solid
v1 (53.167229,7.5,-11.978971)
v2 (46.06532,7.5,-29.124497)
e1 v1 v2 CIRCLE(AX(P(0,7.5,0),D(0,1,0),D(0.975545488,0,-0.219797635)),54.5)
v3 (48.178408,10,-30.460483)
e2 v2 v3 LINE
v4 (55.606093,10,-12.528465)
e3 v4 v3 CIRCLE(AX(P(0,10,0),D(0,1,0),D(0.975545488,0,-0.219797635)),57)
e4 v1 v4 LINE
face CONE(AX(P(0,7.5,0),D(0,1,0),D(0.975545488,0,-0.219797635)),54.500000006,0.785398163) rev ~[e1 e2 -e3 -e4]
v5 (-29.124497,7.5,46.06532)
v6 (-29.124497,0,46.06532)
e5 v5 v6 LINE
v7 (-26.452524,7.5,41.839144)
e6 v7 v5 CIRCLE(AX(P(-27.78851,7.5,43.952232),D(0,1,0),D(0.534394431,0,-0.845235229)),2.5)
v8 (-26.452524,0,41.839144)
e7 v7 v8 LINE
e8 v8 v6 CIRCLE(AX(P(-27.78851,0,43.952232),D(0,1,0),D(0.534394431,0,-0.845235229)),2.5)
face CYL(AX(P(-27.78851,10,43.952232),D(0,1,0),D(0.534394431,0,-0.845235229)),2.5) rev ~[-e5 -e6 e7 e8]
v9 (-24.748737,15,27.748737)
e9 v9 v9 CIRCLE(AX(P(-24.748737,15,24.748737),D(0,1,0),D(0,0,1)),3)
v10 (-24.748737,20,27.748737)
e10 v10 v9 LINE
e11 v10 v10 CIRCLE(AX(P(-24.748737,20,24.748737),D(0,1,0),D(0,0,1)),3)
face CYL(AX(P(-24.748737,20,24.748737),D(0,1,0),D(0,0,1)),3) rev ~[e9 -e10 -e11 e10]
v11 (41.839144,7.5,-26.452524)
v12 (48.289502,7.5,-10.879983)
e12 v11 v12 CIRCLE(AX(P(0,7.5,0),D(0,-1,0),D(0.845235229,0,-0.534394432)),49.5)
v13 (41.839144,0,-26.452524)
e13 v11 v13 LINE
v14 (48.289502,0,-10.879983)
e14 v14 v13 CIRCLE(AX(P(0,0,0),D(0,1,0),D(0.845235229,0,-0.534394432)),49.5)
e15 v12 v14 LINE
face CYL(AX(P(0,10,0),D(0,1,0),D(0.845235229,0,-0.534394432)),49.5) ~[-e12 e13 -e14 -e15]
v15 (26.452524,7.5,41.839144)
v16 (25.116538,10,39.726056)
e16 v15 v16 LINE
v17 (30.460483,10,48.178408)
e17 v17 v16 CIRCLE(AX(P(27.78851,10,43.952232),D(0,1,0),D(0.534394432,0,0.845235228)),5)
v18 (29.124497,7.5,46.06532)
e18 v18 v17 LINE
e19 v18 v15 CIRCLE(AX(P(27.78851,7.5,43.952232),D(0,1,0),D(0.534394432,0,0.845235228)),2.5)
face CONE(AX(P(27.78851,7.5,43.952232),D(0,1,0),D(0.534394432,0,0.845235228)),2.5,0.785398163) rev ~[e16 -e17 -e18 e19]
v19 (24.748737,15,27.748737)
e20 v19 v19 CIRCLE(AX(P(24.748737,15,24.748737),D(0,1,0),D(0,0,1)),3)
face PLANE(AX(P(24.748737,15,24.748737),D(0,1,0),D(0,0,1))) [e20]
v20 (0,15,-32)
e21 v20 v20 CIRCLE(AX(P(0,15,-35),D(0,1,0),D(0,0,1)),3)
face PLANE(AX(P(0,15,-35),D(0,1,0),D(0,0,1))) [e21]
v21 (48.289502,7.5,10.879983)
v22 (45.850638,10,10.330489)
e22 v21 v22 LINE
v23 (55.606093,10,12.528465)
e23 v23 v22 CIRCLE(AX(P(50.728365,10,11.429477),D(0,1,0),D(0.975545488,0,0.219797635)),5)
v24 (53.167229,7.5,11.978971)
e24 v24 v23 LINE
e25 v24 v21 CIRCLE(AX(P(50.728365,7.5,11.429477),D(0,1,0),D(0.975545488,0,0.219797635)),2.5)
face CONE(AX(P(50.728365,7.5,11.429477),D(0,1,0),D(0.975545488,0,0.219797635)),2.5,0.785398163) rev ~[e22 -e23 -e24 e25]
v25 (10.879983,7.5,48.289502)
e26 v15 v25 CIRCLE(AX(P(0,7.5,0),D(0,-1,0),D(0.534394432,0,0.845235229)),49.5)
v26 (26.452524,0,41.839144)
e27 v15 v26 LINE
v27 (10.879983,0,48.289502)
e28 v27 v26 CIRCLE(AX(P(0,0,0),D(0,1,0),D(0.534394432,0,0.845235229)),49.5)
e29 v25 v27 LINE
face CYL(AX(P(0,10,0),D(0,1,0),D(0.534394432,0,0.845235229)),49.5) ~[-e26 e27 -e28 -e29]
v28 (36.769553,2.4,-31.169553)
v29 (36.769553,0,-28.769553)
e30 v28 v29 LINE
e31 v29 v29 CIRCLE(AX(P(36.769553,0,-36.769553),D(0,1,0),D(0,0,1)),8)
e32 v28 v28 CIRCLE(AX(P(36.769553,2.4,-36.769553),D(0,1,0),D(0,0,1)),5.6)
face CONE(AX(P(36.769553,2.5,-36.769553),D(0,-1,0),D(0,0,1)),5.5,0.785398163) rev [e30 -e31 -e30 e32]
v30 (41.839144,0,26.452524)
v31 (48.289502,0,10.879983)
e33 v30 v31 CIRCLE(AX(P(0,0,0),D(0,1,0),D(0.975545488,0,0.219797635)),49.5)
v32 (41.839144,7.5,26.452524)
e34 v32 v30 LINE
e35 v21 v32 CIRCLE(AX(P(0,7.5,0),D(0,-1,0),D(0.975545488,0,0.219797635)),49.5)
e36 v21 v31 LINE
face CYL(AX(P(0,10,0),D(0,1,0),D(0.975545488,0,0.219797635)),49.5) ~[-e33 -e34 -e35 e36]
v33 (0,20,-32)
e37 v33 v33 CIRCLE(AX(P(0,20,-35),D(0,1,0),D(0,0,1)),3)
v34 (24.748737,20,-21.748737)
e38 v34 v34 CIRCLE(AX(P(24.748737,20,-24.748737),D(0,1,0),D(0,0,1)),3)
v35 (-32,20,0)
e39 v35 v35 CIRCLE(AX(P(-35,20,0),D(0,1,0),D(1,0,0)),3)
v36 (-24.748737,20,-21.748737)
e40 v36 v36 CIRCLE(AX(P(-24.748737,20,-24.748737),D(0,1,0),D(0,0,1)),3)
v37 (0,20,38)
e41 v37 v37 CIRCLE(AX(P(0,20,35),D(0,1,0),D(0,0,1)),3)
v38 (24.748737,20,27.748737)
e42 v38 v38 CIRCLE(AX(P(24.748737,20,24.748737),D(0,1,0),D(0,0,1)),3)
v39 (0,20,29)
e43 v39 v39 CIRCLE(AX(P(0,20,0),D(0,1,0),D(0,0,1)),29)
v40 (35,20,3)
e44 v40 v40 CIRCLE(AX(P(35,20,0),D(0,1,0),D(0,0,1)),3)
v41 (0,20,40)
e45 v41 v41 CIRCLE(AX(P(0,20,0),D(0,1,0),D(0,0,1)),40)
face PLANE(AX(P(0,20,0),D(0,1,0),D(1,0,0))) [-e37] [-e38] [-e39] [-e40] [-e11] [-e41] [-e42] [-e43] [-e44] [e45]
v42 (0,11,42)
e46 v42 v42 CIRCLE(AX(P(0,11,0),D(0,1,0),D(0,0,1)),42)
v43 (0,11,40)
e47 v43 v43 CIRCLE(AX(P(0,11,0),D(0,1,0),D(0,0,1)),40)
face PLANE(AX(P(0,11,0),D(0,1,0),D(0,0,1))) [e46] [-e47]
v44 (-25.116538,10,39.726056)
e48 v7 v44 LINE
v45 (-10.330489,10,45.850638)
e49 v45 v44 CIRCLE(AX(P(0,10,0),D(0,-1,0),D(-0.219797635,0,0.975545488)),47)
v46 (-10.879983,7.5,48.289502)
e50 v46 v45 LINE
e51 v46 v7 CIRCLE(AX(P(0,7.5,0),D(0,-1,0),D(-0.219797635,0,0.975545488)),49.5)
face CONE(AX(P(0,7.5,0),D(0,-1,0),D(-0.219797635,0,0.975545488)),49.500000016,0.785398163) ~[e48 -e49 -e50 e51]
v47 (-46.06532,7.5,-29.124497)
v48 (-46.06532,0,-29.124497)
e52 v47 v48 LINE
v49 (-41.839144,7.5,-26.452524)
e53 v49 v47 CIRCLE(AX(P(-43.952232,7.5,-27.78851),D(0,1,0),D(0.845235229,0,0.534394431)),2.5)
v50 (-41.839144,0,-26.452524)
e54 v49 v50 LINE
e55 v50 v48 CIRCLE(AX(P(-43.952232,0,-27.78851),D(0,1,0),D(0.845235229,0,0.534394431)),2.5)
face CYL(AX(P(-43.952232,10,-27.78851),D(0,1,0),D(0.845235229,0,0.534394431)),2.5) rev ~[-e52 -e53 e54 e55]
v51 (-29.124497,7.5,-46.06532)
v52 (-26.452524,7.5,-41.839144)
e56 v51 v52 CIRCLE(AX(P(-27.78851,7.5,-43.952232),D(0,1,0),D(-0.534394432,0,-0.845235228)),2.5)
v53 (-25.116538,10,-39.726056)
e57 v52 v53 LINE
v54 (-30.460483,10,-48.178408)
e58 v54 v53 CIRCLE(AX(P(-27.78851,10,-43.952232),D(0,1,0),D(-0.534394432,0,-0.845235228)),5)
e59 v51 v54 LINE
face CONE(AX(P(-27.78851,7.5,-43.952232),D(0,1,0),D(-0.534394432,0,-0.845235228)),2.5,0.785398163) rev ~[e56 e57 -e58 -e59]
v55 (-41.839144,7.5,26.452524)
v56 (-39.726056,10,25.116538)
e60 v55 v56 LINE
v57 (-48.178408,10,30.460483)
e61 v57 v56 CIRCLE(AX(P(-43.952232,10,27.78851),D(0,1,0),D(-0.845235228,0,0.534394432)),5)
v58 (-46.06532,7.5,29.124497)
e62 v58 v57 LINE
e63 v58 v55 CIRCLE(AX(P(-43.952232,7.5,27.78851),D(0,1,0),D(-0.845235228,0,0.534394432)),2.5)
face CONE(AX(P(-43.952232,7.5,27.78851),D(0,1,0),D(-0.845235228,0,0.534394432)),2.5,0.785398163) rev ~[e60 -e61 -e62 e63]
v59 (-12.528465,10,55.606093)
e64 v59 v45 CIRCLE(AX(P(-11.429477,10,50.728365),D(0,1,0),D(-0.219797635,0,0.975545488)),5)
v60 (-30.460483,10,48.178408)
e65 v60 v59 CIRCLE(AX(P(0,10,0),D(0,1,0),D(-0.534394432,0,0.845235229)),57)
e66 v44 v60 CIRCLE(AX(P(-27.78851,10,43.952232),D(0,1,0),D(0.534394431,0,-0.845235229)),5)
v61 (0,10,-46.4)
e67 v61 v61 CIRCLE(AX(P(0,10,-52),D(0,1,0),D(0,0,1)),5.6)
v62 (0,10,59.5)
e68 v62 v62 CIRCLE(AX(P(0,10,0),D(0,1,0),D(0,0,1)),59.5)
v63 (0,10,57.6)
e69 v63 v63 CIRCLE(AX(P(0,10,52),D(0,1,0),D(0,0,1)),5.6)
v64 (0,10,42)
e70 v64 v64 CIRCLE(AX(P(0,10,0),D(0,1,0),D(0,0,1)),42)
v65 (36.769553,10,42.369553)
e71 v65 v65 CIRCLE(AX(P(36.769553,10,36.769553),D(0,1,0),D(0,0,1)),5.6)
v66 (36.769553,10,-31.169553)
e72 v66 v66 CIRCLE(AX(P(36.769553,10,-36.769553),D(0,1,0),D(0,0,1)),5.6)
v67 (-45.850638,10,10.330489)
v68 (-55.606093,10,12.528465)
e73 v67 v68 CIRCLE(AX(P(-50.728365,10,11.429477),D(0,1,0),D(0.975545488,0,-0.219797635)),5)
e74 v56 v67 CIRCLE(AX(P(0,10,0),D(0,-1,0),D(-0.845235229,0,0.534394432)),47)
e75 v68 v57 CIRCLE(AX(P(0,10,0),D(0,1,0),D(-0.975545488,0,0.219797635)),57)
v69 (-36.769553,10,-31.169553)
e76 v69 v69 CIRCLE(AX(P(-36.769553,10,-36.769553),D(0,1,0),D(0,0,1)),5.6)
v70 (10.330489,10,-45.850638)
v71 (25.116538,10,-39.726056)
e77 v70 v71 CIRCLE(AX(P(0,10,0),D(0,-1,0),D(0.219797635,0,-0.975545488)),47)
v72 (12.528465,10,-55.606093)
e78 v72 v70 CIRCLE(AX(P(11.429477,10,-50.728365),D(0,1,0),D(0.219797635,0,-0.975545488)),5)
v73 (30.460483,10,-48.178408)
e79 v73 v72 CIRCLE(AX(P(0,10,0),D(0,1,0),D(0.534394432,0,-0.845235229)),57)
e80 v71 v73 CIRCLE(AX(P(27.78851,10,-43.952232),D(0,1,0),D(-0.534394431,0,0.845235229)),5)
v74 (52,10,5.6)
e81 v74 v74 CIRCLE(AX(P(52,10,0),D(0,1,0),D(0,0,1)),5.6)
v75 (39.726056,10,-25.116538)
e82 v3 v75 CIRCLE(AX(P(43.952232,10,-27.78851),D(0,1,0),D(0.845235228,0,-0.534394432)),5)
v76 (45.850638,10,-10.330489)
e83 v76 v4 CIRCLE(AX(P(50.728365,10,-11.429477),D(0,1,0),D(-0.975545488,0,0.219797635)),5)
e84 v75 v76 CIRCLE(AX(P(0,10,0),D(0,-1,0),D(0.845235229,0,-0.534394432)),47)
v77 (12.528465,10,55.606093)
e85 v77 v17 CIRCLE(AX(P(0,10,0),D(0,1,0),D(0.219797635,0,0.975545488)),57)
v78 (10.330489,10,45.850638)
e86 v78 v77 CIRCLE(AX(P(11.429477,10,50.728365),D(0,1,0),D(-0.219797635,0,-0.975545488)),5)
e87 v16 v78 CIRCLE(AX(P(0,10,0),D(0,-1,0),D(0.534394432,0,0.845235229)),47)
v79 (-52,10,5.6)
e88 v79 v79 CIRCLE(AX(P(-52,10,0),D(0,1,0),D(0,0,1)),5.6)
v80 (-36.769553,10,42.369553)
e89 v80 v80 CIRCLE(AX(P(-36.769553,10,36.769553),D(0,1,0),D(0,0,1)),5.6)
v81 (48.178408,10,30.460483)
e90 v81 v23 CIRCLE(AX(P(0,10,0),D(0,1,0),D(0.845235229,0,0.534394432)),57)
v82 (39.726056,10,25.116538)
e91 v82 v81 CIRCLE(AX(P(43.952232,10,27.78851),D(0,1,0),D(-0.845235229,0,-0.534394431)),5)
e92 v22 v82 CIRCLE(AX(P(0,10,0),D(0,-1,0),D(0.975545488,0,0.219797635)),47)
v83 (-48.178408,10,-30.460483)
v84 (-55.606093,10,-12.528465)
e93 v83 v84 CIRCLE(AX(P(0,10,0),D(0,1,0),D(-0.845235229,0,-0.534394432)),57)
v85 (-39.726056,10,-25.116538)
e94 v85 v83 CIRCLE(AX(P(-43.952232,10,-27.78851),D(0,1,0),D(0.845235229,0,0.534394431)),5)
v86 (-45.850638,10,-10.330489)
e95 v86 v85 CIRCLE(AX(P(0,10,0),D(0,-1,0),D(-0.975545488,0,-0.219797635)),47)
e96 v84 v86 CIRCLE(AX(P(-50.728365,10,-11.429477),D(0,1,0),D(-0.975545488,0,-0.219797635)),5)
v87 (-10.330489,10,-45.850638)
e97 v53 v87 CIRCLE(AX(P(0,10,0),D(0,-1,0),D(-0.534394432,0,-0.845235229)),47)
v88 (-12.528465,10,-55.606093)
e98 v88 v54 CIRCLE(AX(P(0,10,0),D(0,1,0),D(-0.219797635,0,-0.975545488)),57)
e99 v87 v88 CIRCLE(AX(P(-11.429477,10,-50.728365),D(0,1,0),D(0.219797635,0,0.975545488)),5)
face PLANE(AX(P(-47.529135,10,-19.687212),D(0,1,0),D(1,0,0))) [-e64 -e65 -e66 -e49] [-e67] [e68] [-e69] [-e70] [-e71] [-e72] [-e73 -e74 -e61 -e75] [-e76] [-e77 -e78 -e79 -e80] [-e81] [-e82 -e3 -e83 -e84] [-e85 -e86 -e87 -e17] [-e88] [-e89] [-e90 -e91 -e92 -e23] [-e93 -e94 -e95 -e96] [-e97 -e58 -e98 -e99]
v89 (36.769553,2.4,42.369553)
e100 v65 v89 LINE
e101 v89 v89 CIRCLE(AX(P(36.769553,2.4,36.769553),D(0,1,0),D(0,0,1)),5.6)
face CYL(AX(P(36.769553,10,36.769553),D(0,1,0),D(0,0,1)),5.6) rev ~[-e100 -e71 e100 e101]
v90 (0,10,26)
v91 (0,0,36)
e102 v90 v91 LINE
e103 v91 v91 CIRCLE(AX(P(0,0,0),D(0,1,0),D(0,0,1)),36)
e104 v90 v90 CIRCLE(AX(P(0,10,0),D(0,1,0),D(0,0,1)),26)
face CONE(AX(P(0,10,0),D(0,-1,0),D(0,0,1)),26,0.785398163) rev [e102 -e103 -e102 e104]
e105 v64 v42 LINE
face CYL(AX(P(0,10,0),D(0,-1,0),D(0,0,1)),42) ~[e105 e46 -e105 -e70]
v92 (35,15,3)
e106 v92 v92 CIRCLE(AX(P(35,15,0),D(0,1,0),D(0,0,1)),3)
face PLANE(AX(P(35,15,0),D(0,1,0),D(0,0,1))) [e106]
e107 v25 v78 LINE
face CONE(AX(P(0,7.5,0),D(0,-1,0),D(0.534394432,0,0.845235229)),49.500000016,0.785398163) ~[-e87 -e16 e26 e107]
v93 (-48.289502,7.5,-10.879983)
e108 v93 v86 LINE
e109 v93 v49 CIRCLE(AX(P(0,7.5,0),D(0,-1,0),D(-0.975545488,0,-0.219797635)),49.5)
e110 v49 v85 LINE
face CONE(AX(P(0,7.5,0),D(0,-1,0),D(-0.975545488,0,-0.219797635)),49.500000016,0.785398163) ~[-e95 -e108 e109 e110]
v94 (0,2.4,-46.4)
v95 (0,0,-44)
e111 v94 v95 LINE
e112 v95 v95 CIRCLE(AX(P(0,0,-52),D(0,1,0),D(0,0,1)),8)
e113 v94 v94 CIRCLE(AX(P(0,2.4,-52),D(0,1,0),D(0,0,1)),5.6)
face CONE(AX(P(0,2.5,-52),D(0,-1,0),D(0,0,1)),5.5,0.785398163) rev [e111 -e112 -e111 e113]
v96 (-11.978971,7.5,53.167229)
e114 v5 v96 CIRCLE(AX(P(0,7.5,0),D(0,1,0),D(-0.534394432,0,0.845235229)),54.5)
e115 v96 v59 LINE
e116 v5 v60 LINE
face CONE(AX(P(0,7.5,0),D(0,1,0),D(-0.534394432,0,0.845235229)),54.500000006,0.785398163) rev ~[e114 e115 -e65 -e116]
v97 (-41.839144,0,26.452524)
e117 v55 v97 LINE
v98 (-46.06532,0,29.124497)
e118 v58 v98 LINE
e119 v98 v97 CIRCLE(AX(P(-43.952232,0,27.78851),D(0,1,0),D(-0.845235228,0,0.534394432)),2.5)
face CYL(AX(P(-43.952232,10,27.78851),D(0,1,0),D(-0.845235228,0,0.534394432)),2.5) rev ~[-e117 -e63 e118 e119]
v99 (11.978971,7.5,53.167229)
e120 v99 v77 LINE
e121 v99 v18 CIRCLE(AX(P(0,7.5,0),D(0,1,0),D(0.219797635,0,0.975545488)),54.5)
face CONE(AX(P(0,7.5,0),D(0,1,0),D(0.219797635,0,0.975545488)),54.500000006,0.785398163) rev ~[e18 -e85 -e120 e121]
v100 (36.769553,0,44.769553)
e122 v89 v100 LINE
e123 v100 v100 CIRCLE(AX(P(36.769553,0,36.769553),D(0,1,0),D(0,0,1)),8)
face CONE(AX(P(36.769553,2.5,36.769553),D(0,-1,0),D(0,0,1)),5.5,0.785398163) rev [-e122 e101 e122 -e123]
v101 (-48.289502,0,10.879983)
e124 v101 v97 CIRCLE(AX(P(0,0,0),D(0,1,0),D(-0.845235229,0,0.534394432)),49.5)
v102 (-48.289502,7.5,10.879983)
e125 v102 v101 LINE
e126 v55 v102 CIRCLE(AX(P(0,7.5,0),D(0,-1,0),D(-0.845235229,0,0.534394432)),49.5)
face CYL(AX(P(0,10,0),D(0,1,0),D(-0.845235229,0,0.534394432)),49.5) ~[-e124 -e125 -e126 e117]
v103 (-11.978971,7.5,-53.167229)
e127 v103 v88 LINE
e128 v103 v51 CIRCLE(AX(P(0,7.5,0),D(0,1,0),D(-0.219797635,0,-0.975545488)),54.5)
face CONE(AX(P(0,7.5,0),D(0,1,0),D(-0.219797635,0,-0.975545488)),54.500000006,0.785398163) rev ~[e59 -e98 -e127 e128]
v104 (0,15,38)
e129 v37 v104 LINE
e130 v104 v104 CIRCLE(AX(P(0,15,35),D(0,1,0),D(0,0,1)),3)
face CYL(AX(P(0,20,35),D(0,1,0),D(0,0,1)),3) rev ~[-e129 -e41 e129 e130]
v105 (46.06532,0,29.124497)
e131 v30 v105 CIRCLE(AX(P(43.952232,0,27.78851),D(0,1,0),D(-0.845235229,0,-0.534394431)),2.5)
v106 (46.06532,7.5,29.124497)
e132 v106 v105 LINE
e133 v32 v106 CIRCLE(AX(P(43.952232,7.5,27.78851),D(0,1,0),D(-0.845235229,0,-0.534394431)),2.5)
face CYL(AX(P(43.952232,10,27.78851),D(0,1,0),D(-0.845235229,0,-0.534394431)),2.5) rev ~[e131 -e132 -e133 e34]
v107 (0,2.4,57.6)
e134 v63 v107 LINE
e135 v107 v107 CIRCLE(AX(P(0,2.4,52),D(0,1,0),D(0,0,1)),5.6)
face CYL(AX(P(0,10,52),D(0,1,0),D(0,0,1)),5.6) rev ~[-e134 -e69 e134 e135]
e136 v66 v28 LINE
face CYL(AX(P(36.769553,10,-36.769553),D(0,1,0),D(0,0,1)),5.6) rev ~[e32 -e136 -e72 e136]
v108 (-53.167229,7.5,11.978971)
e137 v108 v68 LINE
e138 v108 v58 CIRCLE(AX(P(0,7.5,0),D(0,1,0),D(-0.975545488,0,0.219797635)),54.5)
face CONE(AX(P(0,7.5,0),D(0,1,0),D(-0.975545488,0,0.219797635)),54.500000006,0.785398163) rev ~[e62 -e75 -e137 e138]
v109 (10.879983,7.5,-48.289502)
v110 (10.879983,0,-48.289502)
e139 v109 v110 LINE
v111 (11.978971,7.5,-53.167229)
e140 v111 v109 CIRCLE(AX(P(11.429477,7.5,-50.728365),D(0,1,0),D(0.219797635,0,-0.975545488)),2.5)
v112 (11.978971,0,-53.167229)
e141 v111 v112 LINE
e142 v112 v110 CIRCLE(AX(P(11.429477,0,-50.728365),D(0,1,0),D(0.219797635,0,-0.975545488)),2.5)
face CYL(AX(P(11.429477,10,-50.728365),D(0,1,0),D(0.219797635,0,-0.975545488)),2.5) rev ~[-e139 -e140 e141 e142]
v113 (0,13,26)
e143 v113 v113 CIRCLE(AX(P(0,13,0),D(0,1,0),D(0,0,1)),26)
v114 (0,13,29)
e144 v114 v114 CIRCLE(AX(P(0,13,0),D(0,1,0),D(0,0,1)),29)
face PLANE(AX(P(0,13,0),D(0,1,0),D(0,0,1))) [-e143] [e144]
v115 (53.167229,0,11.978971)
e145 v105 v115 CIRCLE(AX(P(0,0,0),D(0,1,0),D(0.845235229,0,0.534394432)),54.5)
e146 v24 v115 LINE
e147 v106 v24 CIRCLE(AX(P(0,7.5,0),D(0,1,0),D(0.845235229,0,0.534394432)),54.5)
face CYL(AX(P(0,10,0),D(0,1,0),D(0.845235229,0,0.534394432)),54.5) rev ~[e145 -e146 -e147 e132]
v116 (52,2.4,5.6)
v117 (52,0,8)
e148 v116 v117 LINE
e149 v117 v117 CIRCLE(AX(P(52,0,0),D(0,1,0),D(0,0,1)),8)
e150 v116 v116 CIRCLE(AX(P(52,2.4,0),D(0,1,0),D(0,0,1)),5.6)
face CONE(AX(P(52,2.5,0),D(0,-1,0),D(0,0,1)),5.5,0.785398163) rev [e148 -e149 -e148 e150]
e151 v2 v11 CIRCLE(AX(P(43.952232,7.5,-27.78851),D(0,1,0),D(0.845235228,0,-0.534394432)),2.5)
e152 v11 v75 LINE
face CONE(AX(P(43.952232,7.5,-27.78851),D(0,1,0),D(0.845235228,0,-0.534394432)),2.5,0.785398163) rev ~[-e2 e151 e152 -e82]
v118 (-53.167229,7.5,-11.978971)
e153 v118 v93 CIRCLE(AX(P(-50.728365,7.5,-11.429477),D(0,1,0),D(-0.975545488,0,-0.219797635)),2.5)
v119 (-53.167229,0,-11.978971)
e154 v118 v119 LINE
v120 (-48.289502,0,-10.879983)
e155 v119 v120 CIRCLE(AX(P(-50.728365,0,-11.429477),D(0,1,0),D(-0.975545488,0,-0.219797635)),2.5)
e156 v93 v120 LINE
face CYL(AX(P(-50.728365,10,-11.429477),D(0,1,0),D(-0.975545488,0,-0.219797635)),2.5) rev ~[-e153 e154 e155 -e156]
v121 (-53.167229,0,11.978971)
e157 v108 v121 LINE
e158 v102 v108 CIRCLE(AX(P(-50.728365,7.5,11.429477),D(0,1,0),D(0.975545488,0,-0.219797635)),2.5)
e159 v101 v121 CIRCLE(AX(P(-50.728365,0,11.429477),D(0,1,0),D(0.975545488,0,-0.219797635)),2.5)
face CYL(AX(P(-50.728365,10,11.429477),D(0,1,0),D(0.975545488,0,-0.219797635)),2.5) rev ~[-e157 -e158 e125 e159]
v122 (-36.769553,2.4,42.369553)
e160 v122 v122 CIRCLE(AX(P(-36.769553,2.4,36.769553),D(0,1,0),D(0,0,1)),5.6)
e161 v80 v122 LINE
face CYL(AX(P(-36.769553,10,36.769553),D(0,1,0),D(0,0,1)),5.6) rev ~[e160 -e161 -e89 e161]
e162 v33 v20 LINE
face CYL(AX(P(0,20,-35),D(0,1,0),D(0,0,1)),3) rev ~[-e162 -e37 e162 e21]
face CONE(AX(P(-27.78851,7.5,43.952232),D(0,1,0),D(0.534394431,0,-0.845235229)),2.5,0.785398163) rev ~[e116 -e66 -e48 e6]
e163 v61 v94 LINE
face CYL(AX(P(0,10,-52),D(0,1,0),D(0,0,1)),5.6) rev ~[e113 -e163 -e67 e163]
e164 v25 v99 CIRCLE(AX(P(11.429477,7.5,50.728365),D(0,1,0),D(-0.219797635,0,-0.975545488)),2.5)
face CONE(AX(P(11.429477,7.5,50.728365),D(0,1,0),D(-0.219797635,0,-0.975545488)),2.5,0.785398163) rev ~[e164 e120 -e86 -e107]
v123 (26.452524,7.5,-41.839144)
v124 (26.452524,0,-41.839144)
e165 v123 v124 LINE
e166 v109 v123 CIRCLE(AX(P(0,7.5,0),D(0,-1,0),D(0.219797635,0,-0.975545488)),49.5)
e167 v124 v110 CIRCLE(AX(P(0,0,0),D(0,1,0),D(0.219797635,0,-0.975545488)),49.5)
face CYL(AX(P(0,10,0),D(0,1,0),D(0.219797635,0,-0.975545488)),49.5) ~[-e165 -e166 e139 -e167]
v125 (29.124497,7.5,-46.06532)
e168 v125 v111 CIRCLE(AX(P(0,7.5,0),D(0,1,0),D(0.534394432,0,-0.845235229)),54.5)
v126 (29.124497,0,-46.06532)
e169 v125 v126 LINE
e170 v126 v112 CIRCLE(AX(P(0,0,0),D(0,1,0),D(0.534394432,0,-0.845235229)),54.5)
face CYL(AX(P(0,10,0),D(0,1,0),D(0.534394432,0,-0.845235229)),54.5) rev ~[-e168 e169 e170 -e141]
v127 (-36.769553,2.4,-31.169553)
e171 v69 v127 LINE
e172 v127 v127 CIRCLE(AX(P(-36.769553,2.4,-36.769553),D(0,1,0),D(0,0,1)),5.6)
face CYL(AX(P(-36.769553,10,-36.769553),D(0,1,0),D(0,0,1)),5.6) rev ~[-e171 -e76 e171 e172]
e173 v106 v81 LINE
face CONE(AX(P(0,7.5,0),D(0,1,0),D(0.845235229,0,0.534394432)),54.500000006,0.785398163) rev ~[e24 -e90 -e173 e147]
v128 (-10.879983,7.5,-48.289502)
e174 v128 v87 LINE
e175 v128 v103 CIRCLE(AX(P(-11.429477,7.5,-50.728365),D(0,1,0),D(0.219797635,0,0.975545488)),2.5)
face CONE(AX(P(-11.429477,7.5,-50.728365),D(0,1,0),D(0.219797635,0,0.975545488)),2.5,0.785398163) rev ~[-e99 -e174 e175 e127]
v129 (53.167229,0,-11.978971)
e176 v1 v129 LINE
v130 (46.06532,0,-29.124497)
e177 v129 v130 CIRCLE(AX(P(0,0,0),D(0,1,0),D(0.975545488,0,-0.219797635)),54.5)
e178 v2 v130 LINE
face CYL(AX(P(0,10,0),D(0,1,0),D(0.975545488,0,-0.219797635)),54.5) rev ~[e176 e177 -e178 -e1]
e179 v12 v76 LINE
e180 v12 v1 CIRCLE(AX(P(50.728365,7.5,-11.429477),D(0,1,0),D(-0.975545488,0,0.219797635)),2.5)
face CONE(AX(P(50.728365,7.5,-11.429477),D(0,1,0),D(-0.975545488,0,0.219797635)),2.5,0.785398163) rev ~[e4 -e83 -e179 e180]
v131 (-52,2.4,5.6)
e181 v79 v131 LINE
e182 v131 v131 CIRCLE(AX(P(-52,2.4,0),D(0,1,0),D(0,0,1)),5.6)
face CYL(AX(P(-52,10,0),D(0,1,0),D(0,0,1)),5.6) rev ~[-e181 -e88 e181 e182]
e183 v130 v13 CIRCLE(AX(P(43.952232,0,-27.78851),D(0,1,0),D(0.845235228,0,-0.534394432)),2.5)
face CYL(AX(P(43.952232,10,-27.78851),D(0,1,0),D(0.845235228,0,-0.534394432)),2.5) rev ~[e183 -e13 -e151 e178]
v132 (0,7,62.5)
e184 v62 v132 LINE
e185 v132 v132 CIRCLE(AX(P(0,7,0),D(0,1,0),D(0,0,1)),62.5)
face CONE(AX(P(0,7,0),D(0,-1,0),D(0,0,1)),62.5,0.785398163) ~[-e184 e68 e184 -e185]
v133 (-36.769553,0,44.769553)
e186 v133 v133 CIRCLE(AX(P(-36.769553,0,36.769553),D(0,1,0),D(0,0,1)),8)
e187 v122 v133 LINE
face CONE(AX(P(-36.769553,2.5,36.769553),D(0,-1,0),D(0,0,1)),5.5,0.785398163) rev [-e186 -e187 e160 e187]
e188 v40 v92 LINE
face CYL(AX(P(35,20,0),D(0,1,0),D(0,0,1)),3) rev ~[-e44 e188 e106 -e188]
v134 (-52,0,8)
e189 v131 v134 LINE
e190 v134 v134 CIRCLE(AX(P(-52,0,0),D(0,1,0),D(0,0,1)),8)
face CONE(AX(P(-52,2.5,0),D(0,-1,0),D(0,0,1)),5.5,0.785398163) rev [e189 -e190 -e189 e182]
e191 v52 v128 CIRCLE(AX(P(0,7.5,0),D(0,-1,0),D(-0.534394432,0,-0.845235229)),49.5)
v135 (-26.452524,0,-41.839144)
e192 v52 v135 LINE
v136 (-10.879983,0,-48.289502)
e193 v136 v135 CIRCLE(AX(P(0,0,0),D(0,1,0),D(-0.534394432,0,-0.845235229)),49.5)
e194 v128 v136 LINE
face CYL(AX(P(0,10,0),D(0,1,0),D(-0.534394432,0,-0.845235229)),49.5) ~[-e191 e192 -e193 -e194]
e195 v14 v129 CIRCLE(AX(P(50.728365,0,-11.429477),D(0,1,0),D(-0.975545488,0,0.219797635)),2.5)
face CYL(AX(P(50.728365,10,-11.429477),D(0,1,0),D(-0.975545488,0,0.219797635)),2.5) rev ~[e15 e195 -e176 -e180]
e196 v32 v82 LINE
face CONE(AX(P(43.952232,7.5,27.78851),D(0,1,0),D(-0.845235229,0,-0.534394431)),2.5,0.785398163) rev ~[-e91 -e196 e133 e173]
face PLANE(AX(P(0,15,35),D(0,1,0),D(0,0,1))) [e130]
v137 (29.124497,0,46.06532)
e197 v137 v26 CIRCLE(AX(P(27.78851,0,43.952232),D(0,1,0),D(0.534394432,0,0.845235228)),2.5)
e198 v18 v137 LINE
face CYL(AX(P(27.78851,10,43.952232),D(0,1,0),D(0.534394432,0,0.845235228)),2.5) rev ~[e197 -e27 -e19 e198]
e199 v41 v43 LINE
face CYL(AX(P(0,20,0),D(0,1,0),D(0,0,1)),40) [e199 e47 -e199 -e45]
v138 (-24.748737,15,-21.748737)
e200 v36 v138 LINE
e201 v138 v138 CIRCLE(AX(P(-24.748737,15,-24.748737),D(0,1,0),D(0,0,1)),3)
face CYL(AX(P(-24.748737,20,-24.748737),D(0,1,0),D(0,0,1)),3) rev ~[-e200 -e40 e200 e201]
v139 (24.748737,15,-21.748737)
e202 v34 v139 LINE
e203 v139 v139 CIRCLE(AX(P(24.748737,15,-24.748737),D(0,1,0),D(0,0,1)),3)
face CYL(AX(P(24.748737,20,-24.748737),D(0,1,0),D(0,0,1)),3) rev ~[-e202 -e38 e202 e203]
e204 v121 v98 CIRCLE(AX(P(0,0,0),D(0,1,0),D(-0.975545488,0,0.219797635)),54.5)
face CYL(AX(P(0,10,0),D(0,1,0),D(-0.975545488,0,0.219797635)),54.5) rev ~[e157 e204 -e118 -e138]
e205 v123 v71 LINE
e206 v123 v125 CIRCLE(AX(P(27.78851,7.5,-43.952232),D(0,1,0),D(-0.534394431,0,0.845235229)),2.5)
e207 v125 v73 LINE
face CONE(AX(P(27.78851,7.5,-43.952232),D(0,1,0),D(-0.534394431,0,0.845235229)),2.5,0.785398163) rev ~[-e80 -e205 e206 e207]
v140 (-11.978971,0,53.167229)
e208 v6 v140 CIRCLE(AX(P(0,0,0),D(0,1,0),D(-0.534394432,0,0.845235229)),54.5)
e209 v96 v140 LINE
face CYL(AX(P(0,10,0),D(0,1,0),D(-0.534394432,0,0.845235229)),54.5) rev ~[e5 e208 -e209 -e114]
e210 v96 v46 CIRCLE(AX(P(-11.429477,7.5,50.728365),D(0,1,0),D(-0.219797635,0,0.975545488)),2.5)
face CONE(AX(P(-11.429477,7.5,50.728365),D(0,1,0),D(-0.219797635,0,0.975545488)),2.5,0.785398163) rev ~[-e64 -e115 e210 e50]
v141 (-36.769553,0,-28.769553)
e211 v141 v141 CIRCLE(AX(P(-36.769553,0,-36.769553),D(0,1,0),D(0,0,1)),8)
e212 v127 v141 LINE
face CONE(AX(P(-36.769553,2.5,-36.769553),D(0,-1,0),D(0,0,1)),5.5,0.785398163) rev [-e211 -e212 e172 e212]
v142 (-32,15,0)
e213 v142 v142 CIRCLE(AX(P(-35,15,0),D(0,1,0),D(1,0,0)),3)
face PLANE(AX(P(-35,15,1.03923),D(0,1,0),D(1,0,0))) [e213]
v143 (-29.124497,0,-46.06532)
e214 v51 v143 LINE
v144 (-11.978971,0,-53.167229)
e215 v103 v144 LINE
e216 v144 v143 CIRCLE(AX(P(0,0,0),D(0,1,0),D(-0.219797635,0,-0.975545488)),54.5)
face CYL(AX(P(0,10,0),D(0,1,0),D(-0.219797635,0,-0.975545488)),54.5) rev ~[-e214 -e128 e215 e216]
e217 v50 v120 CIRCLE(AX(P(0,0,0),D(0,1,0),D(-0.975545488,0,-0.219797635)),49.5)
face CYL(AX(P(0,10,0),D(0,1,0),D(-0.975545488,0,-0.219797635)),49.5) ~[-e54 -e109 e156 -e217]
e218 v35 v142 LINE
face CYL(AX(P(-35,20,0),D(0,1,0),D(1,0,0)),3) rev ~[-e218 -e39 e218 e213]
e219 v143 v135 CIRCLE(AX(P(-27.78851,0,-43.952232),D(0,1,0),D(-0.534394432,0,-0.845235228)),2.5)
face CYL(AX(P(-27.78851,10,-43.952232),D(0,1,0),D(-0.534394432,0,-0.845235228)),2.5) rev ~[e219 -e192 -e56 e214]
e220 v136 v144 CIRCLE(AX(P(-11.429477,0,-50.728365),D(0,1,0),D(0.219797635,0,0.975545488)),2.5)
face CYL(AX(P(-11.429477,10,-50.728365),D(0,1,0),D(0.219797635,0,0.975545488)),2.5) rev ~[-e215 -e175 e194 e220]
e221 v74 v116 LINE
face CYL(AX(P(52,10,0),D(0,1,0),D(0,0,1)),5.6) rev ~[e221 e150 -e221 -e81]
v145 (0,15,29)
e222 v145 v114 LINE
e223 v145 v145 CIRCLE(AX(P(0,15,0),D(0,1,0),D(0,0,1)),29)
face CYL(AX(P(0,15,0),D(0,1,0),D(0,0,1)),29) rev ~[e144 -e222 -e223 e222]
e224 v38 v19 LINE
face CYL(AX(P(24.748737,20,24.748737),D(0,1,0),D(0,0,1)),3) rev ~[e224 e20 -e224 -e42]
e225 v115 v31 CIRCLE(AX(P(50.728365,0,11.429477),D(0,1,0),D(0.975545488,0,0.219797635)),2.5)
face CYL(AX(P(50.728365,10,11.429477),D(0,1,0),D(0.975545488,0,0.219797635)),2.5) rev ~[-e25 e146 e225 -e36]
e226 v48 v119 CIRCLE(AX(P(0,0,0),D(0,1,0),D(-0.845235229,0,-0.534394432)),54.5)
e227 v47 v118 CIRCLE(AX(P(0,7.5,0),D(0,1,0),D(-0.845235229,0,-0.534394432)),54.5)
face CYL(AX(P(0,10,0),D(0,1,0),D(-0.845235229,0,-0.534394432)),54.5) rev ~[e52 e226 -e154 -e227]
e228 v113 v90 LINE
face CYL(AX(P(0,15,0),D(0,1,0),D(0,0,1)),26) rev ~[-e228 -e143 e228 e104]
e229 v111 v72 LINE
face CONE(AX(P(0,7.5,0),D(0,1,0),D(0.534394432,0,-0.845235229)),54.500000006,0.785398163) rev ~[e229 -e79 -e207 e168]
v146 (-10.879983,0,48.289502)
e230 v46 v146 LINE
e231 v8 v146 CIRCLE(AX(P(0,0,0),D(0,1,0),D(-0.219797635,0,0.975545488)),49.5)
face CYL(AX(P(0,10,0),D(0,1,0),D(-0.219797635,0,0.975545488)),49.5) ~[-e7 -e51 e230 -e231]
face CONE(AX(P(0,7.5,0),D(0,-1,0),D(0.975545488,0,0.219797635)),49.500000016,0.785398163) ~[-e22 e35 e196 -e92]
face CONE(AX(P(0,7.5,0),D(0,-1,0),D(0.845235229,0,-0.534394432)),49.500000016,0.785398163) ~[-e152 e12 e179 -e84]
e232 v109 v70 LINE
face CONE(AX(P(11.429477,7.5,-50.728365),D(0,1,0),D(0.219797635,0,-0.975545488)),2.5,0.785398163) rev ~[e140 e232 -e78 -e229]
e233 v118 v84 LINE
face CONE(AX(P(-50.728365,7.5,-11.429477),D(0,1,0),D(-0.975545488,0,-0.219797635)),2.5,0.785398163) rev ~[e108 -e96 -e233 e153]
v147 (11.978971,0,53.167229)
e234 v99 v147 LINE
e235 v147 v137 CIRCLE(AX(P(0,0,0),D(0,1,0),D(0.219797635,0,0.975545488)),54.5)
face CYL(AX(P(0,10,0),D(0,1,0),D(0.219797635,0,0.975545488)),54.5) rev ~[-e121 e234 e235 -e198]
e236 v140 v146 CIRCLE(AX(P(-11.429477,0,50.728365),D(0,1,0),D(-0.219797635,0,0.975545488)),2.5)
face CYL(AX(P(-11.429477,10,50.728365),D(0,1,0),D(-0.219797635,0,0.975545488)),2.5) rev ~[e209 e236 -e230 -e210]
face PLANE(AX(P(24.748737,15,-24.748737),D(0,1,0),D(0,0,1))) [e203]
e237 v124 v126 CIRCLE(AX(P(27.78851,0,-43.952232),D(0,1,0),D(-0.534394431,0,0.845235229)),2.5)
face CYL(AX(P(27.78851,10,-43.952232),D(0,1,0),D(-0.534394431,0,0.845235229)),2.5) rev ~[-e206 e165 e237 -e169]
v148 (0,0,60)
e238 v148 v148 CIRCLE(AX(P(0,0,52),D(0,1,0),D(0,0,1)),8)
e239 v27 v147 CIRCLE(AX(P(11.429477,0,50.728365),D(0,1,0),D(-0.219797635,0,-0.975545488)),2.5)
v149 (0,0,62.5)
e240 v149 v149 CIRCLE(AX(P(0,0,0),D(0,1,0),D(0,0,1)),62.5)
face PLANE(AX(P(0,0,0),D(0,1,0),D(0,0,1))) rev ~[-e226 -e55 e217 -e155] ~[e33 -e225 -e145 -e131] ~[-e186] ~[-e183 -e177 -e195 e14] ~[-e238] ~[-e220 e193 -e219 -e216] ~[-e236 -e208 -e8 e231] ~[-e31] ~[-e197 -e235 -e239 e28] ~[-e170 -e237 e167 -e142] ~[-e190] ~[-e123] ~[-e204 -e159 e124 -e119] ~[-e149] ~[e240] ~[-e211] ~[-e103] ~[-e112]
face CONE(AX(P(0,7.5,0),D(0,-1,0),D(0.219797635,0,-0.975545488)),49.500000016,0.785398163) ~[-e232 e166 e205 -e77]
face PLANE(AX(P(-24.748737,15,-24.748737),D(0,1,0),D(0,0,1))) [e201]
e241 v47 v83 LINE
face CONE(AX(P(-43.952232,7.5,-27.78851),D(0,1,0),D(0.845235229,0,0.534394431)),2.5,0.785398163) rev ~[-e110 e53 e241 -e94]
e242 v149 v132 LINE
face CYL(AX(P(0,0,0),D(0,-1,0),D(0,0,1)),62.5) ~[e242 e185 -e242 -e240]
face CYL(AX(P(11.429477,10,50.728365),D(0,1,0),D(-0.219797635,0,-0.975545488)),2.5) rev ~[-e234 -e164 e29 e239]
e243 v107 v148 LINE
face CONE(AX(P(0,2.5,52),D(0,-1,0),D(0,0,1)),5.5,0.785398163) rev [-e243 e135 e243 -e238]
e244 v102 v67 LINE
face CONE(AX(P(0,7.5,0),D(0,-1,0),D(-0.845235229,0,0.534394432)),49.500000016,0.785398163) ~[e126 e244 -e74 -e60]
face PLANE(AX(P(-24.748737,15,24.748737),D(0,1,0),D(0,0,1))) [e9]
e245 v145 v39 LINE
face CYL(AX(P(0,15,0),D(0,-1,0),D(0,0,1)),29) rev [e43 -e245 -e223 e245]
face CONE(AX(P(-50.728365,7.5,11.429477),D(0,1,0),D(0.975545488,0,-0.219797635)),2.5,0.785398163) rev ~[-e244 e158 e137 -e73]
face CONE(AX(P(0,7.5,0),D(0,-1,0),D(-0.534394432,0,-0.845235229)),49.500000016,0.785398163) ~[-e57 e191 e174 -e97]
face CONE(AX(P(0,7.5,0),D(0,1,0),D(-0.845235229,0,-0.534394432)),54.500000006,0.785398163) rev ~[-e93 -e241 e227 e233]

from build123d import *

# Parameters (mm, degrees)
SKETCH1_R            = 62.5
SKETCH1_R_2          = 5.5
SKETCH1_R_3          = 41.5
BOSS_EXTRUDE1_DEPTH  = 10
SKETCH2_R            = 41.5
SKETCH2_R_2          = 3.5
SKETCH2_R_3          = 30
BOSS_EXTRUDE2_DEPTH  = 10
BOSS_EXTRUDE3_START  = -10
SKETCH3_R            = 3.5
BOSS_EXTRUDE3_DEPTH  = 10
SKETCH4_R            = 41.5
SKETCH4_R_2          = 40
CUT_EXTRUDE1_DEPTH   = 10
CHAMFER1_SIZE        = 3
CUT_EXTRUDE4_DEPTH   = 13
SKETCH10_R           = 42
SKETCH10_R_2         = 40
BOSS_EXTRUDE4_DEPTH  = 1
BOSS_EXTRUDE9_DEPTH  = 10
CHAMFER7_SIZE        = 2.5
SKETCH18_R           = 3.5
BOSS_EXTRUDE10_DEPTH = 10
SKETCH19_R           = 3
CUT_EXTRUDE7_DEPTH   = 5
CUT_EXTRUDE8_DEPTH   = 15
CHAMFER9_SIZE        = 2.5
SKETCH21_R           = 5.6
CUT_EXTRUDE9_DEPTH   = 15
BOSS_EXTRUDE11_START = -5
SKETCH22_R           = 30
SKETCH22_R_2         = 26
BOSS_EXTRUDE11_DEPTH = 15
SKETCH23_R           = 30
SKETCH23_R_2         = 29
BOSS_EXTRUDE12_DEPTH = 5
CHAMFER10_SIZE       = 10
SKETCH24_R           = 29
SKETCH24_R_2         = 26
CUT_EXTRUDE10_DEPTH  = 2


with BuildPart() as part:
    # Sketch1 → Boss-Extrude1 (new body)
    with BuildSketch(Plane(origin=(0, 0, 0), x_dir=(1, 0, 0), z_dir=(0, 1, 0))):
        with Locations(Location((0, 0, 0), (0, 0, 270))):
            Circle(SKETCH1_R)
        with Locations(Location((-52, 0, 0), (0, 0, 270))):
            Circle(SKETCH1_R_2, mode=Mode.SUBTRACT)
        with Locations(Location((-36.769552622, 36.769552622, 0), (0, 0, 270))):
            Circle(SKETCH1_R_2, mode=Mode.SUBTRACT)
        with Locations(Location((0, 52, 0), (0, 0, 270))):
            Circle(SKETCH1_R_2, mode=Mode.SUBTRACT)
        with Locations(Location((36.769552622, 36.769552622, 0), (0, 0, 270))):
            Circle(SKETCH1_R_2, mode=Mode.SUBTRACT)
        with Locations(Location((52, 0, 0), (0, 0, 270))):
            Circle(SKETCH1_R_2, mode=Mode.SUBTRACT)
        with Locations(Location((36.769552622, -36.769552622, 0), (0, 0, 270))):
            Circle(SKETCH1_R_2, mode=Mode.SUBTRACT)
        with Locations(Location((0, -52, 0), (0, 0, 270))):
            Circle(SKETCH1_R_2, mode=Mode.SUBTRACT)
        with Locations(Location((-36.769552622, -36.769552622, 0), (0, 0, 270))):
            Circle(SKETCH1_R_2, mode=Mode.SUBTRACT)
        with Locations(Location((0, 0, 0), (0, 0, 270))):
            Circle(SKETCH1_R_3, mode=Mode.SUBTRACT)
    extrude(amount=BOSS_EXTRUDE1_DEPTH)

    # Sketch2 → Boss-Extrude2 (add, symmetric)
    with BuildSketch(Plane(origin=(0, 10, 0), x_dir=(1, 0, 0), z_dir=(0, 1, 0))):
        with Locations(Location((0, 0, 0), (0, 0, 270))):
            Circle(SKETCH2_R)
        with Locations(Location((0, -35, 0), (0, 0, 270))):
            Circle(SKETCH2_R_2, mode=Mode.SUBTRACT)
        with Locations(Location((-24.748737342, -24.748737342, 0), (0, 0, 270))):
            Circle(SKETCH2_R_2, mode=Mode.SUBTRACT)
        with Locations(Location((24.748737342, -24.748737342, 0), (0, 0, 270))):
            Circle(SKETCH2_R_2, mode=Mode.SUBTRACT)
        with Locations(Location((35, 0, 0), (0, 0, 270))):
            Circle(SKETCH2_R_2, mode=Mode.SUBTRACT)
        with BuildLine():
            ThreePointArc((-38.5, 0), (-35, 3.5), (-31.5, 0))
            ThreePointArc((-31.5, 0), (-35, -3.5), (-38.5, 0))
        make_face(mode=Mode.SUBTRACT)
        with Locations(Location((-24.748737342, 24.748737342, 0), (0, 0, 270))):
            Circle(SKETCH2_R_2, mode=Mode.SUBTRACT)
        with Locations(Location((0, 0, 0), (0, 0, 270))):
            Circle(SKETCH2_R_3, mode=Mode.SUBTRACT)
        with Locations(Location((24.748737342, 24.748737342, 0), (0, 0, 270))):
            Circle(SKETCH2_R_2, mode=Mode.SUBTRACT)
        with Locations(Location((0, 35, 0), (0, 0, 270))):
            Circle(SKETCH2_R_2, mode=Mode.SUBTRACT)
    extrude(amount=BOSS_EXTRUDE2_DEPTH, both=True)

    # Sketch3 → Boss-Extrude3 (add)
    with BuildSketch(Plane(origin=(0, 20, 0), x_dir=(1, 0, 0), z_dir=(0, 1, 0)).offset(BOSS_EXTRUDE3_START)):
        with Locations(Location((-35, 0, 0), (0, 0, 270))):
            Circle(SKETCH3_R)
        with Locations(Location((-24.748737342, 24.748737342, 0), (0, 0, 270))):
            Circle(SKETCH3_R)
        with Locations(Location((0, 35, 0), (0, 0, 270))):
            Circle(SKETCH3_R)
        with Locations(Location((24.748737342, 24.748737342, 0), (0, 0, 270))):
            Circle(SKETCH3_R)
        with Locations(Location((35, 0, 0), (0, 0, 270))):
            Circle(SKETCH3_R)
        with Locations(Location((24.748737342, -24.748737342, 0), (0, 0, 270))):
            Circle(SKETCH3_R)
        with Locations(Location((0, -35, 0), (0, 0, 270))):
            Circle(SKETCH3_R)
        with Locations(Location((-24.748737342, -24.748737342, 0), (0, 0, 270))):
            Circle(SKETCH3_R)
    extrude(amount=-BOSS_EXTRUDE3_DEPTH)

    # Sketch4 → Cut-Extrude1 (cut)
    with BuildSketch(Plane(origin=(0, 20, 0), x_dir=(1, 0, 0), z_dir=(0, 1, 0))):
        Circle(SKETCH4_R)
        with Locations(Location((0, 0, 0), (0, 0, 270))):
            Circle(SKETCH4_R_2, mode=Mode.SUBTRACT)
    extrude(amount=-CUT_EXTRUDE1_DEPTH, mode=Mode.SUBTRACT)

    # Chamfer1
    chamfer1_edges = [part.edges().sort_by_distance(p)[0] for p in [
        (0, 10, -62.5),
    ]]
    chamfer(chamfer1_edges, length=CHAMFER1_SIZE)

    # Sketch9 → Cut-Extrude4 (cut)
    with BuildSketch(Plane(origin=(0, 10, 0), x_dir=(1, 0, 0), z_dir=(0, 1, 0))):
        with BuildLine():
            ThreePointArc((-45.31509387, 30.2785777), (-50.351434522, 20.856247064), (-53.452797782, 10.63242255))
            ThreePointArc((-53.452797782, 10.63242255), (-51.488560386, 7.692733544), (-48.54887138, 9.65697094))
            ThreePointArc((-48.54887138, 9.65697094), (-45.732036859, 18.942829902), (-41.157745809, 27.500726534))
            ThreePointArc((-41.157745809, 27.500726534), (-41.847494257, 30.968326148), (-45.31509387, 30.2785777))
        make_face()
        with BuildLine():
            ThreePointArc((-10.63242255, 53.452797782), (-20.856247064, 50.351434522), (-30.2785777, 45.31509387))
            ThreePointArc((-30.2785777, 45.31509387), (-30.968326148, 41.847494257), (-27.500726534, 41.157745809))
            ThreePointArc((-27.500726534, 41.157745809), (-18.942829902, 45.732036859), (-9.65697094, 48.54887138))
            ThreePointArc((-9.65697094, 48.54887138), (-7.692733544, 51.488560386), (-10.63242255, 53.452797782))
        make_face()
        with BuildLine():
            ThreePointArc((30.2785777, 45.31509387), (20.856247064, 50.351434522), (10.63242255, 53.452797782))
            ThreePointArc((10.63242255, 53.452797782), (7.692733544, 51.488560386), (9.65697094, 48.54887138))
            ThreePointArc((9.65697094, 48.54887138), (18.942829902, 45.732036859), (27.500726534, 41.157745809))
            ThreePointArc((27.500726534, 41.157745809), (30.968326148, 41.847494257), (30.2785777, 45.31509387))
        make_face()
        with BuildLine():
            ThreePointArc((53.452797782, 10.63242255), (50.351434522, 20.856247064), (45.31509387, 30.2785777))
            ThreePointArc((45.31509387, 30.2785777), (41.847494257, 30.968326148), (41.157745809, 27.500726534))
            ThreePointArc((41.157745809, 27.500726534), (45.732036859, 18.942829902), (48.54887138, 9.65697094))
            ThreePointArc((48.54887138, 9.65697094), (51.488560386, 7.692733544), (53.452797782, 10.63242255))
        make_face()
        with BuildLine():
            ThreePointArc((45.31509387, -30.2785777), (50.351434522, -20.856247064), (53.452797782, -10.63242255))
            ThreePointArc((53.452797782, -10.63242255), (51.488560386, -7.692733544), (48.54887138, -9.65697094))
            ThreePointArc((48.54887138, -9.65697094), (45.732036859, -18.942829902), (41.157745809, -27.500726534))
            ThreePointArc((41.157745809, -27.500726534), (41.847494257, -30.968326148), (45.31509387, -30.2785777))
        make_face()
        with BuildLine():
            ThreePointArc((10.63242255, -53.452797782), (20.856247064, -50.351434522), (30.2785777, -45.31509387))
            ThreePointArc((30.2785777, -45.31509387), (30.968326148, -41.847494257), (27.500726534, -41.157745809))
            ThreePointArc((27.500726534, -41.157745809), (18.942829902, -45.732036859), (9.65697094, -48.54887138))
            ThreePointArc((9.65697094, -48.54887138), (7.692733544, -51.488560386), (10.63242255, -53.452797782))
        make_face()
        with BuildLine():
            ThreePointArc((-30.2785777, -45.31509387), (-20.856247064, -50.351434522), (-10.63242255, -53.452797782))
            ThreePointArc((-10.63242255, -53.452797782), (-7.692733544, -51.488560386), (-9.65697094, -48.54887138))
            ThreePointArc((-9.65697094, -48.54887138), (-18.942829902, -45.732036859), (-27.500726534, -41.157745809))
            ThreePointArc((-27.500726534, -41.157745809), (-30.968326148, -41.847494257), (-30.2785777, -45.31509387))
        make_face()
        with BuildLine():
            ThreePointArc((-53.452797782, -10.63242255), (-50.351434522, -20.856247064), (-45.31509387, -30.2785777))
            ThreePointArc((-45.31509387, -30.2785777), (-41.847494257, -30.968326148), (-41.157745809, -27.500726534))
            ThreePointArc((-41.157745809, -27.500726534), (-45.732036859, -18.942829902), (-48.54887138, -9.65697094))
            ThreePointArc((-48.54887138, -9.65697094), (-51.488560386, -7.692733544), (-53.452797782, -10.63242255))
        make_face()
    extrude(amount=-CUT_EXTRUDE4_DEPTH, mode=Mode.SUBTRACT)

    # Sketch10 → Boss-Extrude4 (add)
    with BuildSketch(Plane(origin=(0, 10, 0), x_dir=(1, 0, 0), z_dir=(0, 1, 0))):
        with Locations(Location((0, 0, 0), (0, 0, 270))):
            Circle(SKETCH10_R)
        with Locations(Location((0, 0, 0), (0, 0, 270))):
            Circle(SKETCH10_R_2, mode=Mode.SUBTRACT)
    extrude(amount=BOSS_EXTRUDE4_DEPTH)

    # Sketch17 → Boss-Extrude9 (add)
    with BuildSketch(Plane(origin=(0, 10, 0), x_dir=(1, 0, 0), z_dir=(0, 1, 0))):
        with BuildLine():
            ThreePointArc((-45.31509387, 30.2785777), (-50.351434522, 20.856247064), (-53.452797782, 10.63242255))
            ThreePointArc((-53.452797782, 10.63242255), (-51.488560386, 7.692733544), (-48.54887138, 9.65697094))
            ThreePointArc((-48.54887138, 9.65697094), (-45.732036859, 18.942829902), (-41.157745809, 27.500726534))
            ThreePointArc((-41.157745809, 27.500726534), (-41.847494257, 30.968326148), (-45.31509387, 30.2785777))
        make_face()
        with BuildLine():
            ThreePointArc((-10.63242255, 53.452797782), (-20.856247064, 50.351434522), (-30.2785777, 45.31509387))
            ThreePointArc((-30.2785777, 45.31509387), (-30.968326148, 41.847494257), (-27.500726534, 41.157745809))
            ThreePointArc((-27.500726534, 41.157745809), (-18.942829902, 45.732036859), (-9.65697094, 48.54887138))
            ThreePointArc((-9.65697094, 48.54887138), (-7.692733544, 51.488560386), (-10.63242255, 53.452797782))
        make_face()
        with BuildLine():
            ThreePointArc((30.2785777, 45.31509387), (20.856247064, 50.351434522), (10.63242255, 53.452797782))
            ThreePointArc((10.63242255, 53.452797782), (7.692733544, 51.488560386), (9.65697094, 48.54887138))
            ThreePointArc((9.65697094, 48.54887138), (18.942829902, 45.732036859), (27.500726534, 41.157745809))
            ThreePointArc((27.500726534, 41.157745809), (30.968326148, 41.847494257), (30.2785777, 45.31509387))
        make_face()
        with BuildLine():
            ThreePointArc((53.452797782, 10.63242255), (50.351434522, 20.856247064), (45.31509387, 30.2785777))
            ThreePointArc((45.31509387, 30.2785777), (41.847494257, 30.968326148), (41.157745809, 27.500726534))
            ThreePointArc((41.157745809, 27.500726534), (45.732036859, 18.942829902), (48.54887138, 9.65697094))
            ThreePointArc((48.54887138, 9.65697094), (51.488560386, 7.692733544), (53.452797782, 10.63242255))
        make_face()
        with BuildLine():
            ThreePointArc((45.31509387, -30.2785777), (50.351434522, -20.856247064), (53.452797782, -10.63242255))
            ThreePointArc((53.452797782, -10.63242255), (51.488560386, -7.692733544), (48.54887138, -9.65697094))
            ThreePointArc((48.54887138, -9.65697094), (45.732036859, -18.942829902), (41.157745809, -27.500726534))
            ThreePointArc((41.157745809, -27.500726534), (41.847494257, -30.968326148), (45.31509387, -30.2785777))
        make_face()
        with BuildLine():
            ThreePointArc((10.63242255, -53.452797782), (20.856247064, -50.351434522), (30.2785777, -45.31509387))
            ThreePointArc((30.2785777, -45.31509387), (30.968326148, -41.847494257), (27.500726534, -41.157745809))
            ThreePointArc((27.500726534, -41.157745809), (18.942829902, -45.732036859), (9.65697094, -48.54887138))
            ThreePointArc((9.65697094, -48.54887138), (7.692733544, -51.488560386), (10.63242255, -53.452797782))
        make_face()
        with BuildLine():
            ThreePointArc((-30.2785777, -45.31509387), (-20.856247064, -50.351434522), (-10.63242255, -53.452797782))
            ThreePointArc((-10.63242255, -53.452797782), (-7.692733544, -51.488560386), (-9.65697094, -48.54887138))
            ThreePointArc((-9.65697094, -48.54887138), (-18.942829902, -45.732036859), (-27.500726534, -41.157745809))
            ThreePointArc((-27.500726534, -41.157745809), (-30.968326148, -41.847494257), (-30.2785777, -45.31509387))
        make_face()
        with BuildLine():
            ThreePointArc((-53.452797782, -10.63242255), (-50.351434522, -20.856247064), (-45.31509387, -30.2785777))
            ThreePointArc((-45.31509387, -30.2785777), (-41.847494257, -30.968326148), (-41.157745809, -27.500726534))
            ThreePointArc((-41.157745809, -27.500726534), (-45.732036859, -18.942829902), (-48.54887138, -9.65697094))
            ThreePointArc((-48.54887138, -9.65697094), (-51.488560386, -7.692733544), (-53.452797782, -10.63242255))
        make_face()
    extrude(amount=-BOSS_EXTRUDE9_DEPTH)

    # Chamfer7
    chamfer7_edges = [part.edges().sort_by_distance(p)[0] for p in [
        (-36.769552622, 0, 31.269552622),
        (-52, 0, -5.5),
        (-36.769552622, 0, -42.269552622),
        (0, 0, -57.5),
        (36.769552622, 0, -42.269552622),
        (52, 0, -5.5),
        (36.769552622, 0, 31.269552622),
        (0, 0, 46.5),
    ]]
    chamfer(chamfer7_edges, length=CHAMFER7_SIZE)

    # Sketch18 → Boss-Extrude10 (add)
    with BuildSketch(Plane(origin=(0, 10, 0), x_dir=(1, 0, 0), z_dir=(0, 1, 0))):
        with Locations((0, 35)):
            Circle(SKETCH18_R)
        with Locations((24.748737342, 24.748737342)):
            Circle(SKETCH18_R)
        with Locations((35, 0)):
            Circle(SKETCH18_R)
        with Locations((24.748737342, -24.748737342)):
            Circle(SKETCH18_R)
        with Locations((0, -35)):
            Circle(SKETCH18_R)
        with Locations((-24.748737342, -24.748737342)):
            Circle(SKETCH18_R)
        with Locations((-35, 0)):
            Circle(SKETCH18_R)
        with Locations((-24.748737342, 24.748737342)):
            Circle(SKETCH18_R)
    extrude(amount=BOSS_EXTRUDE10_DEPTH)

    # Sketch19 → Cut-Extrude7 (cut)
    with BuildSketch(Plane(origin=(0, 20, 0), x_dir=(1, 0, 0), z_dir=(0, 1, 0))):
        with Locations(Location((-24.748737342, 24.748737342, 0), (0, 0, 270))):
            Circle(SKETCH19_R)
        with Locations(Location((0, 35, 0), (0, 0, 270))):
            Circle(SKETCH19_R)
        with Locations(Location((35, 0, 0), (0, 0, 270))):
            Circle(SKETCH19_R)
        with Locations(Location((24.748737342, -24.748737342, 0), (0, 0, 270))):
            Circle(SKETCH19_R)
        with Locations(Location((0, -35, 0), (0, 0, 270))):
            Circle(SKETCH19_R)
        with Locations(Location((-24.748737342, -24.748737342, 0), (0, 0, 270))):
            Circle(SKETCH19_R)
        with BuildLine():
            ThreePointArc((-38, 0), (-35, -3), (-32, 0))
            Line((-32, 0), (-38, 0))
        make_face()
        with BuildLine():
            Line((-38, 0), (-32, 0))
            ThreePointArc((-32, 0), (-35, 3), (-38, 0))
        make_face()
        with Locations(Location((24.748737342, 24.748737342, 0), (0, 0, 270))):
            Circle(SKETCH19_R)
    extrude(amount=-CUT_EXTRUDE7_DEPTH, mode=Mode.SUBTRACT)

    # Sketch20 → Cut-Extrude8 (cut)
    with BuildSketch(Plane(origin=(0, 10, 0), x_dir=(1, 0, 0), z_dir=(0, 1, 0))):
        with BuildLine():
            ThreePointArc((-46.065319954, 29.124496521), (-50.351434522, 20.856247064), (-53.167229105, 11.978971128))
            ThreePointArc((-53.167229105, 11.978971128), (-51.277859473, 8.990613319), (-48.289501664, 10.879982951))
            ThreePointArc((-48.289501664, 10.879982951), (-45.732036859, 18.942829902), (-41.839143811, 26.452524363))
            ThreePointArc((-41.839143811, 26.452524363), (-42.616245803, 29.901598513), (-46.065319954, 29.124496521))
        make_face()
        with BuildLine():
            ThreePointArc((-11.978971128, 53.167229105), (-20.856247064, 50.351434522), (-29.124496521, 46.065319954))
            ThreePointArc((-29.124496521, 46.065319954), (-29.901598513, 42.616245803), (-26.452524363, 41.839143811))
            ThreePointArc((-26.452524363, 41.839143811), (-18.942829902, 45.732036859), (-10.879982951, 48.289501664))
            ThreePointArc((-10.879982951, 48.289501664), (-8.990613319, 51.277859473), (-11.978971128, 53.167229105))
        make_face()
        with BuildLine():
            ThreePointArc((29.124496521, 46.065319954), (20.856247064, 50.351434522), (11.978971128, 53.167229105))
            ThreePointArc((11.978971128, 53.167229105), (8.990613319, 51.277859473), (10.879982951, 48.289501664))
            ThreePointArc((10.879982951, 48.289501664), (18.942829902, 45.732036859), (26.452524363, 41.839143811))
            ThreePointArc((26.452524363, 41.839143811), (29.901598513, 42.616245803), (29.124496521, 46.065319954))
        make_face()
        with BuildLine():
            ThreePointArc((53.167229105, 11.978971128), (50.351434522, 20.856247064), (46.065319954, 29.124496521))
            ThreePointArc((46.065319954, 29.124496521), (42.616245803, 29.901598513), (41.839143811, 26.452524363))
            ThreePointArc((41.839143811, 26.452524363), (45.732036859, 18.942829902), (48.289501664, 10.879982951))
            ThreePointArc((48.289501664, 10.879982951), (51.277859473, 8.990613319), (53.167229105, 11.978971128))
        make_face()
        with BuildLine():
            ThreePointArc((46.065319954, -29.124496521), (50.351434522, -20.856247064), (53.167229105, -11.978971128))
            ThreePointArc((53.167229105, -11.978971128), (51.277859473, -8.990613319), (48.289501664, -10.879982951))
            ThreePointArc((48.289501664, -10.879982951), (45.732036859, -18.942829902), (41.839143811, -26.452524363))
            ThreePointArc((41.839143811, -26.452524363), (42.616245803, -29.901598513), (46.065319954, -29.124496521))
        make_face()
        with BuildLine():
            ThreePointArc((11.978971128, -53.167229105), (20.856247064, -50.351434522), (29.124496521, -46.065319954))
            ThreePointArc((29.124496521, -46.065319954), (29.901598513, -42.616245803), (26.452524363, -41.839143811))
            ThreePointArc((26.452524363, -41.839143811), (18.942829902, -45.732036859), (10.879982951, -48.289501664))
            ThreePointArc((10.879982951, -48.289501664), (8.990613319, -51.277859473), (11.978971128, -53.167229105))
        make_face()
        with BuildLine():
            ThreePointArc((-29.124496521, -46.065319954), (-20.856247064, -50.351434522), (-11.978971128, -53.167229105))
            ThreePointArc((-11.978971128, -53.167229105), (-8.990613319, -51.277859473), (-10.879982951, -48.289501664))
            ThreePointArc((-10.879982951, -48.289501664), (-18.942829902, -45.732036859), (-26.452524363, -41.839143811))
            ThreePointArc((-26.452524363, -41.839143811), (-29.901598513, -42.616245803), (-29.124496521, -46.065319954))
        make_face()
        with BuildLine():
            ThreePointArc((-53.167229105, -11.978971128), (-50.351434522, -20.856247064), (-46.065319954, -29.124496521))
            ThreePointArc((-46.065319954, -29.124496521), (-42.616245803, -29.901598513), (-41.839143811, -26.452524363))
            ThreePointArc((-41.839143811, -26.452524363), (-45.732036859, -18.942829902), (-48.289501664, -10.879982951))
            ThreePointArc((-48.289501664, -10.879982951), (-51.277859473, -8.990613319), (-53.167229105, -11.978971128))
        make_face()
    extrude(amount=-CUT_EXTRUDE8_DEPTH, mode=Mode.SUBTRACT)

    # Chamfer9
    chamfer9_edges = [part.edges().sort_by_distance(p)[0] for p in [
        (-8.990613319, 10, -51.277859473),
        (-20.856247064, 10, -50.351434522),
        (-29.901598513, 10, -42.616245803),
        (-18.942829902, 10, -45.732036859),
        (29.901598513, 10, -42.616245803),
        (20.856247064, 10, -50.351434522),
        (8.990613319, 10, -51.277859473),
        (18.942829902, 10, -45.732036859),
        (51.277859473, 10, -8.990613319),
        (50.351434522, 10, -20.856247064),
        (42.616245803, 10, -29.901598513),
        (45.732036859, 10, -18.942829902),
        (42.616245803, 10, 29.901598513),
        (50.351434522, 10, 20.856247064),
        (51.277859473, 10, 8.990613319),
        (45.732036859, 10, 18.942829902),
        (8.990613319, 10, 51.277859473),
        (20.856247064, 10, 50.351434522),
        (29.901598513, 10, 42.616245803),
        (18.942829902, 10, 45.732036859),
        (-29.901598513, 10, 42.616245803),
        (-20.856247064, 10, 50.351434522),
        (-8.990613319, 10, 51.277859473),
        (-18.942829902, 10, 45.732036859),
        (-51.277859473, 10, 8.990613319),
        (-50.351434522, 10, 20.856247064),
        (-42.616245803, 10, 29.901598513),
        (-45.732036859, 10, 18.942829902),
        (-42.616245803, 10, -29.901598513),
        (-50.351434522, 10, -20.856247064),
        (-51.277859473, 10, -8.990613319),
        (-45.732036859, 10, -18.942829902),
    ]]
    chamfer(chamfer9_edges, length=CHAMFER9_SIZE)

    # Sketch21 → Cut-Extrude9 (cut)
    with BuildSketch(Plane(origin=(0, 10, 0), x_dir=(1, 0, 0), z_dir=(0, 1, 0))):
        with Locations(Location((-52, 0, 0), (0, 0, 270))):
            Circle(SKETCH21_R)
        with Locations(Location((-36.769552622, 36.769552622, 0), (0, 0, 270))):
            Circle(SKETCH21_R)
        with Locations(Location((0, 52, 0), (0, 0, 270))):
            Circle(SKETCH21_R)
        with Locations(Location((36.769552622, 36.769552622, 0), (0, 0, 270))):
            Circle(SKETCH21_R)
        with Locations(Location((52, 0, 0), (0, 0, 270))):
            Circle(SKETCH21_R)
        with Locations(Location((36.769552622, -36.769552622, 0), (0, 0, 270))):
            Circle(SKETCH21_R)
        with Locations(Location((0, -52, 0), (0, 0, 270))):
            Circle(SKETCH21_R)
        with Locations(Location((-36.769552622, -36.769552622, 0), (0, 0, 270))):
            Circle(SKETCH21_R)
    extrude(amount=-CUT_EXTRUDE9_DEPTH, mode=Mode.SUBTRACT)

    # Sketch22 → Boss-Extrude11 (add)
    with BuildSketch(Plane(origin=(0, 20, 0), x_dir=(1, 0, 0), z_dir=(0, 1, 0)).offset(BOSS_EXTRUDE11_START)):
        with Locations(Location((0, 0, 0), (0, 0, 270))):
            Circle(SKETCH22_R)
        with Locations(Location((0, 0, 0), (0, 0, 270))):
            Circle(SKETCH22_R_2, mode=Mode.SUBTRACT)
    extrude(amount=-BOSS_EXTRUDE11_DEPTH)

    # Sketch23 → Boss-Extrude12 (add)
    with BuildSketch(Plane(origin=(0, 15, 0), x_dir=(1, 0, 0), z_dir=(0, 1, 0))):
        Circle(SKETCH23_R)
        with Locations(Location((0, 0, 0), (0, 0, 270))):
            Circle(SKETCH23_R_2, mode=Mode.SUBTRACT)
    extrude(amount=BOSS_EXTRUDE12_DEPTH)

    # Chamfer10
    chamfer10_edges = [part.edges().sort_by_distance(p)[0] for p in [
        (0, 0, -26),
    ]]
    chamfer(chamfer10_edges, length=CHAMFER10_SIZE)

    # Sketch24 → Cut-Extrude10 (cut)
    with BuildSketch(Plane(origin=(0, 15, 0), x_dir=(1, 0, 0), z_dir=(0, 1, 0))):
        with Locations(Location((0, 0, 0), (0, 0, 270))):
            Circle(SKETCH24_R)
        with Locations(Location((0, 0, 0), (0, 0, 270))):
            Circle(SKETCH24_R_2, mode=Mode.SUBTRACT)
    extrude(amount=-CUT_EXTRUDE10_DEPTH, mode=Mode.SUBTRACT)


solid = part.part
